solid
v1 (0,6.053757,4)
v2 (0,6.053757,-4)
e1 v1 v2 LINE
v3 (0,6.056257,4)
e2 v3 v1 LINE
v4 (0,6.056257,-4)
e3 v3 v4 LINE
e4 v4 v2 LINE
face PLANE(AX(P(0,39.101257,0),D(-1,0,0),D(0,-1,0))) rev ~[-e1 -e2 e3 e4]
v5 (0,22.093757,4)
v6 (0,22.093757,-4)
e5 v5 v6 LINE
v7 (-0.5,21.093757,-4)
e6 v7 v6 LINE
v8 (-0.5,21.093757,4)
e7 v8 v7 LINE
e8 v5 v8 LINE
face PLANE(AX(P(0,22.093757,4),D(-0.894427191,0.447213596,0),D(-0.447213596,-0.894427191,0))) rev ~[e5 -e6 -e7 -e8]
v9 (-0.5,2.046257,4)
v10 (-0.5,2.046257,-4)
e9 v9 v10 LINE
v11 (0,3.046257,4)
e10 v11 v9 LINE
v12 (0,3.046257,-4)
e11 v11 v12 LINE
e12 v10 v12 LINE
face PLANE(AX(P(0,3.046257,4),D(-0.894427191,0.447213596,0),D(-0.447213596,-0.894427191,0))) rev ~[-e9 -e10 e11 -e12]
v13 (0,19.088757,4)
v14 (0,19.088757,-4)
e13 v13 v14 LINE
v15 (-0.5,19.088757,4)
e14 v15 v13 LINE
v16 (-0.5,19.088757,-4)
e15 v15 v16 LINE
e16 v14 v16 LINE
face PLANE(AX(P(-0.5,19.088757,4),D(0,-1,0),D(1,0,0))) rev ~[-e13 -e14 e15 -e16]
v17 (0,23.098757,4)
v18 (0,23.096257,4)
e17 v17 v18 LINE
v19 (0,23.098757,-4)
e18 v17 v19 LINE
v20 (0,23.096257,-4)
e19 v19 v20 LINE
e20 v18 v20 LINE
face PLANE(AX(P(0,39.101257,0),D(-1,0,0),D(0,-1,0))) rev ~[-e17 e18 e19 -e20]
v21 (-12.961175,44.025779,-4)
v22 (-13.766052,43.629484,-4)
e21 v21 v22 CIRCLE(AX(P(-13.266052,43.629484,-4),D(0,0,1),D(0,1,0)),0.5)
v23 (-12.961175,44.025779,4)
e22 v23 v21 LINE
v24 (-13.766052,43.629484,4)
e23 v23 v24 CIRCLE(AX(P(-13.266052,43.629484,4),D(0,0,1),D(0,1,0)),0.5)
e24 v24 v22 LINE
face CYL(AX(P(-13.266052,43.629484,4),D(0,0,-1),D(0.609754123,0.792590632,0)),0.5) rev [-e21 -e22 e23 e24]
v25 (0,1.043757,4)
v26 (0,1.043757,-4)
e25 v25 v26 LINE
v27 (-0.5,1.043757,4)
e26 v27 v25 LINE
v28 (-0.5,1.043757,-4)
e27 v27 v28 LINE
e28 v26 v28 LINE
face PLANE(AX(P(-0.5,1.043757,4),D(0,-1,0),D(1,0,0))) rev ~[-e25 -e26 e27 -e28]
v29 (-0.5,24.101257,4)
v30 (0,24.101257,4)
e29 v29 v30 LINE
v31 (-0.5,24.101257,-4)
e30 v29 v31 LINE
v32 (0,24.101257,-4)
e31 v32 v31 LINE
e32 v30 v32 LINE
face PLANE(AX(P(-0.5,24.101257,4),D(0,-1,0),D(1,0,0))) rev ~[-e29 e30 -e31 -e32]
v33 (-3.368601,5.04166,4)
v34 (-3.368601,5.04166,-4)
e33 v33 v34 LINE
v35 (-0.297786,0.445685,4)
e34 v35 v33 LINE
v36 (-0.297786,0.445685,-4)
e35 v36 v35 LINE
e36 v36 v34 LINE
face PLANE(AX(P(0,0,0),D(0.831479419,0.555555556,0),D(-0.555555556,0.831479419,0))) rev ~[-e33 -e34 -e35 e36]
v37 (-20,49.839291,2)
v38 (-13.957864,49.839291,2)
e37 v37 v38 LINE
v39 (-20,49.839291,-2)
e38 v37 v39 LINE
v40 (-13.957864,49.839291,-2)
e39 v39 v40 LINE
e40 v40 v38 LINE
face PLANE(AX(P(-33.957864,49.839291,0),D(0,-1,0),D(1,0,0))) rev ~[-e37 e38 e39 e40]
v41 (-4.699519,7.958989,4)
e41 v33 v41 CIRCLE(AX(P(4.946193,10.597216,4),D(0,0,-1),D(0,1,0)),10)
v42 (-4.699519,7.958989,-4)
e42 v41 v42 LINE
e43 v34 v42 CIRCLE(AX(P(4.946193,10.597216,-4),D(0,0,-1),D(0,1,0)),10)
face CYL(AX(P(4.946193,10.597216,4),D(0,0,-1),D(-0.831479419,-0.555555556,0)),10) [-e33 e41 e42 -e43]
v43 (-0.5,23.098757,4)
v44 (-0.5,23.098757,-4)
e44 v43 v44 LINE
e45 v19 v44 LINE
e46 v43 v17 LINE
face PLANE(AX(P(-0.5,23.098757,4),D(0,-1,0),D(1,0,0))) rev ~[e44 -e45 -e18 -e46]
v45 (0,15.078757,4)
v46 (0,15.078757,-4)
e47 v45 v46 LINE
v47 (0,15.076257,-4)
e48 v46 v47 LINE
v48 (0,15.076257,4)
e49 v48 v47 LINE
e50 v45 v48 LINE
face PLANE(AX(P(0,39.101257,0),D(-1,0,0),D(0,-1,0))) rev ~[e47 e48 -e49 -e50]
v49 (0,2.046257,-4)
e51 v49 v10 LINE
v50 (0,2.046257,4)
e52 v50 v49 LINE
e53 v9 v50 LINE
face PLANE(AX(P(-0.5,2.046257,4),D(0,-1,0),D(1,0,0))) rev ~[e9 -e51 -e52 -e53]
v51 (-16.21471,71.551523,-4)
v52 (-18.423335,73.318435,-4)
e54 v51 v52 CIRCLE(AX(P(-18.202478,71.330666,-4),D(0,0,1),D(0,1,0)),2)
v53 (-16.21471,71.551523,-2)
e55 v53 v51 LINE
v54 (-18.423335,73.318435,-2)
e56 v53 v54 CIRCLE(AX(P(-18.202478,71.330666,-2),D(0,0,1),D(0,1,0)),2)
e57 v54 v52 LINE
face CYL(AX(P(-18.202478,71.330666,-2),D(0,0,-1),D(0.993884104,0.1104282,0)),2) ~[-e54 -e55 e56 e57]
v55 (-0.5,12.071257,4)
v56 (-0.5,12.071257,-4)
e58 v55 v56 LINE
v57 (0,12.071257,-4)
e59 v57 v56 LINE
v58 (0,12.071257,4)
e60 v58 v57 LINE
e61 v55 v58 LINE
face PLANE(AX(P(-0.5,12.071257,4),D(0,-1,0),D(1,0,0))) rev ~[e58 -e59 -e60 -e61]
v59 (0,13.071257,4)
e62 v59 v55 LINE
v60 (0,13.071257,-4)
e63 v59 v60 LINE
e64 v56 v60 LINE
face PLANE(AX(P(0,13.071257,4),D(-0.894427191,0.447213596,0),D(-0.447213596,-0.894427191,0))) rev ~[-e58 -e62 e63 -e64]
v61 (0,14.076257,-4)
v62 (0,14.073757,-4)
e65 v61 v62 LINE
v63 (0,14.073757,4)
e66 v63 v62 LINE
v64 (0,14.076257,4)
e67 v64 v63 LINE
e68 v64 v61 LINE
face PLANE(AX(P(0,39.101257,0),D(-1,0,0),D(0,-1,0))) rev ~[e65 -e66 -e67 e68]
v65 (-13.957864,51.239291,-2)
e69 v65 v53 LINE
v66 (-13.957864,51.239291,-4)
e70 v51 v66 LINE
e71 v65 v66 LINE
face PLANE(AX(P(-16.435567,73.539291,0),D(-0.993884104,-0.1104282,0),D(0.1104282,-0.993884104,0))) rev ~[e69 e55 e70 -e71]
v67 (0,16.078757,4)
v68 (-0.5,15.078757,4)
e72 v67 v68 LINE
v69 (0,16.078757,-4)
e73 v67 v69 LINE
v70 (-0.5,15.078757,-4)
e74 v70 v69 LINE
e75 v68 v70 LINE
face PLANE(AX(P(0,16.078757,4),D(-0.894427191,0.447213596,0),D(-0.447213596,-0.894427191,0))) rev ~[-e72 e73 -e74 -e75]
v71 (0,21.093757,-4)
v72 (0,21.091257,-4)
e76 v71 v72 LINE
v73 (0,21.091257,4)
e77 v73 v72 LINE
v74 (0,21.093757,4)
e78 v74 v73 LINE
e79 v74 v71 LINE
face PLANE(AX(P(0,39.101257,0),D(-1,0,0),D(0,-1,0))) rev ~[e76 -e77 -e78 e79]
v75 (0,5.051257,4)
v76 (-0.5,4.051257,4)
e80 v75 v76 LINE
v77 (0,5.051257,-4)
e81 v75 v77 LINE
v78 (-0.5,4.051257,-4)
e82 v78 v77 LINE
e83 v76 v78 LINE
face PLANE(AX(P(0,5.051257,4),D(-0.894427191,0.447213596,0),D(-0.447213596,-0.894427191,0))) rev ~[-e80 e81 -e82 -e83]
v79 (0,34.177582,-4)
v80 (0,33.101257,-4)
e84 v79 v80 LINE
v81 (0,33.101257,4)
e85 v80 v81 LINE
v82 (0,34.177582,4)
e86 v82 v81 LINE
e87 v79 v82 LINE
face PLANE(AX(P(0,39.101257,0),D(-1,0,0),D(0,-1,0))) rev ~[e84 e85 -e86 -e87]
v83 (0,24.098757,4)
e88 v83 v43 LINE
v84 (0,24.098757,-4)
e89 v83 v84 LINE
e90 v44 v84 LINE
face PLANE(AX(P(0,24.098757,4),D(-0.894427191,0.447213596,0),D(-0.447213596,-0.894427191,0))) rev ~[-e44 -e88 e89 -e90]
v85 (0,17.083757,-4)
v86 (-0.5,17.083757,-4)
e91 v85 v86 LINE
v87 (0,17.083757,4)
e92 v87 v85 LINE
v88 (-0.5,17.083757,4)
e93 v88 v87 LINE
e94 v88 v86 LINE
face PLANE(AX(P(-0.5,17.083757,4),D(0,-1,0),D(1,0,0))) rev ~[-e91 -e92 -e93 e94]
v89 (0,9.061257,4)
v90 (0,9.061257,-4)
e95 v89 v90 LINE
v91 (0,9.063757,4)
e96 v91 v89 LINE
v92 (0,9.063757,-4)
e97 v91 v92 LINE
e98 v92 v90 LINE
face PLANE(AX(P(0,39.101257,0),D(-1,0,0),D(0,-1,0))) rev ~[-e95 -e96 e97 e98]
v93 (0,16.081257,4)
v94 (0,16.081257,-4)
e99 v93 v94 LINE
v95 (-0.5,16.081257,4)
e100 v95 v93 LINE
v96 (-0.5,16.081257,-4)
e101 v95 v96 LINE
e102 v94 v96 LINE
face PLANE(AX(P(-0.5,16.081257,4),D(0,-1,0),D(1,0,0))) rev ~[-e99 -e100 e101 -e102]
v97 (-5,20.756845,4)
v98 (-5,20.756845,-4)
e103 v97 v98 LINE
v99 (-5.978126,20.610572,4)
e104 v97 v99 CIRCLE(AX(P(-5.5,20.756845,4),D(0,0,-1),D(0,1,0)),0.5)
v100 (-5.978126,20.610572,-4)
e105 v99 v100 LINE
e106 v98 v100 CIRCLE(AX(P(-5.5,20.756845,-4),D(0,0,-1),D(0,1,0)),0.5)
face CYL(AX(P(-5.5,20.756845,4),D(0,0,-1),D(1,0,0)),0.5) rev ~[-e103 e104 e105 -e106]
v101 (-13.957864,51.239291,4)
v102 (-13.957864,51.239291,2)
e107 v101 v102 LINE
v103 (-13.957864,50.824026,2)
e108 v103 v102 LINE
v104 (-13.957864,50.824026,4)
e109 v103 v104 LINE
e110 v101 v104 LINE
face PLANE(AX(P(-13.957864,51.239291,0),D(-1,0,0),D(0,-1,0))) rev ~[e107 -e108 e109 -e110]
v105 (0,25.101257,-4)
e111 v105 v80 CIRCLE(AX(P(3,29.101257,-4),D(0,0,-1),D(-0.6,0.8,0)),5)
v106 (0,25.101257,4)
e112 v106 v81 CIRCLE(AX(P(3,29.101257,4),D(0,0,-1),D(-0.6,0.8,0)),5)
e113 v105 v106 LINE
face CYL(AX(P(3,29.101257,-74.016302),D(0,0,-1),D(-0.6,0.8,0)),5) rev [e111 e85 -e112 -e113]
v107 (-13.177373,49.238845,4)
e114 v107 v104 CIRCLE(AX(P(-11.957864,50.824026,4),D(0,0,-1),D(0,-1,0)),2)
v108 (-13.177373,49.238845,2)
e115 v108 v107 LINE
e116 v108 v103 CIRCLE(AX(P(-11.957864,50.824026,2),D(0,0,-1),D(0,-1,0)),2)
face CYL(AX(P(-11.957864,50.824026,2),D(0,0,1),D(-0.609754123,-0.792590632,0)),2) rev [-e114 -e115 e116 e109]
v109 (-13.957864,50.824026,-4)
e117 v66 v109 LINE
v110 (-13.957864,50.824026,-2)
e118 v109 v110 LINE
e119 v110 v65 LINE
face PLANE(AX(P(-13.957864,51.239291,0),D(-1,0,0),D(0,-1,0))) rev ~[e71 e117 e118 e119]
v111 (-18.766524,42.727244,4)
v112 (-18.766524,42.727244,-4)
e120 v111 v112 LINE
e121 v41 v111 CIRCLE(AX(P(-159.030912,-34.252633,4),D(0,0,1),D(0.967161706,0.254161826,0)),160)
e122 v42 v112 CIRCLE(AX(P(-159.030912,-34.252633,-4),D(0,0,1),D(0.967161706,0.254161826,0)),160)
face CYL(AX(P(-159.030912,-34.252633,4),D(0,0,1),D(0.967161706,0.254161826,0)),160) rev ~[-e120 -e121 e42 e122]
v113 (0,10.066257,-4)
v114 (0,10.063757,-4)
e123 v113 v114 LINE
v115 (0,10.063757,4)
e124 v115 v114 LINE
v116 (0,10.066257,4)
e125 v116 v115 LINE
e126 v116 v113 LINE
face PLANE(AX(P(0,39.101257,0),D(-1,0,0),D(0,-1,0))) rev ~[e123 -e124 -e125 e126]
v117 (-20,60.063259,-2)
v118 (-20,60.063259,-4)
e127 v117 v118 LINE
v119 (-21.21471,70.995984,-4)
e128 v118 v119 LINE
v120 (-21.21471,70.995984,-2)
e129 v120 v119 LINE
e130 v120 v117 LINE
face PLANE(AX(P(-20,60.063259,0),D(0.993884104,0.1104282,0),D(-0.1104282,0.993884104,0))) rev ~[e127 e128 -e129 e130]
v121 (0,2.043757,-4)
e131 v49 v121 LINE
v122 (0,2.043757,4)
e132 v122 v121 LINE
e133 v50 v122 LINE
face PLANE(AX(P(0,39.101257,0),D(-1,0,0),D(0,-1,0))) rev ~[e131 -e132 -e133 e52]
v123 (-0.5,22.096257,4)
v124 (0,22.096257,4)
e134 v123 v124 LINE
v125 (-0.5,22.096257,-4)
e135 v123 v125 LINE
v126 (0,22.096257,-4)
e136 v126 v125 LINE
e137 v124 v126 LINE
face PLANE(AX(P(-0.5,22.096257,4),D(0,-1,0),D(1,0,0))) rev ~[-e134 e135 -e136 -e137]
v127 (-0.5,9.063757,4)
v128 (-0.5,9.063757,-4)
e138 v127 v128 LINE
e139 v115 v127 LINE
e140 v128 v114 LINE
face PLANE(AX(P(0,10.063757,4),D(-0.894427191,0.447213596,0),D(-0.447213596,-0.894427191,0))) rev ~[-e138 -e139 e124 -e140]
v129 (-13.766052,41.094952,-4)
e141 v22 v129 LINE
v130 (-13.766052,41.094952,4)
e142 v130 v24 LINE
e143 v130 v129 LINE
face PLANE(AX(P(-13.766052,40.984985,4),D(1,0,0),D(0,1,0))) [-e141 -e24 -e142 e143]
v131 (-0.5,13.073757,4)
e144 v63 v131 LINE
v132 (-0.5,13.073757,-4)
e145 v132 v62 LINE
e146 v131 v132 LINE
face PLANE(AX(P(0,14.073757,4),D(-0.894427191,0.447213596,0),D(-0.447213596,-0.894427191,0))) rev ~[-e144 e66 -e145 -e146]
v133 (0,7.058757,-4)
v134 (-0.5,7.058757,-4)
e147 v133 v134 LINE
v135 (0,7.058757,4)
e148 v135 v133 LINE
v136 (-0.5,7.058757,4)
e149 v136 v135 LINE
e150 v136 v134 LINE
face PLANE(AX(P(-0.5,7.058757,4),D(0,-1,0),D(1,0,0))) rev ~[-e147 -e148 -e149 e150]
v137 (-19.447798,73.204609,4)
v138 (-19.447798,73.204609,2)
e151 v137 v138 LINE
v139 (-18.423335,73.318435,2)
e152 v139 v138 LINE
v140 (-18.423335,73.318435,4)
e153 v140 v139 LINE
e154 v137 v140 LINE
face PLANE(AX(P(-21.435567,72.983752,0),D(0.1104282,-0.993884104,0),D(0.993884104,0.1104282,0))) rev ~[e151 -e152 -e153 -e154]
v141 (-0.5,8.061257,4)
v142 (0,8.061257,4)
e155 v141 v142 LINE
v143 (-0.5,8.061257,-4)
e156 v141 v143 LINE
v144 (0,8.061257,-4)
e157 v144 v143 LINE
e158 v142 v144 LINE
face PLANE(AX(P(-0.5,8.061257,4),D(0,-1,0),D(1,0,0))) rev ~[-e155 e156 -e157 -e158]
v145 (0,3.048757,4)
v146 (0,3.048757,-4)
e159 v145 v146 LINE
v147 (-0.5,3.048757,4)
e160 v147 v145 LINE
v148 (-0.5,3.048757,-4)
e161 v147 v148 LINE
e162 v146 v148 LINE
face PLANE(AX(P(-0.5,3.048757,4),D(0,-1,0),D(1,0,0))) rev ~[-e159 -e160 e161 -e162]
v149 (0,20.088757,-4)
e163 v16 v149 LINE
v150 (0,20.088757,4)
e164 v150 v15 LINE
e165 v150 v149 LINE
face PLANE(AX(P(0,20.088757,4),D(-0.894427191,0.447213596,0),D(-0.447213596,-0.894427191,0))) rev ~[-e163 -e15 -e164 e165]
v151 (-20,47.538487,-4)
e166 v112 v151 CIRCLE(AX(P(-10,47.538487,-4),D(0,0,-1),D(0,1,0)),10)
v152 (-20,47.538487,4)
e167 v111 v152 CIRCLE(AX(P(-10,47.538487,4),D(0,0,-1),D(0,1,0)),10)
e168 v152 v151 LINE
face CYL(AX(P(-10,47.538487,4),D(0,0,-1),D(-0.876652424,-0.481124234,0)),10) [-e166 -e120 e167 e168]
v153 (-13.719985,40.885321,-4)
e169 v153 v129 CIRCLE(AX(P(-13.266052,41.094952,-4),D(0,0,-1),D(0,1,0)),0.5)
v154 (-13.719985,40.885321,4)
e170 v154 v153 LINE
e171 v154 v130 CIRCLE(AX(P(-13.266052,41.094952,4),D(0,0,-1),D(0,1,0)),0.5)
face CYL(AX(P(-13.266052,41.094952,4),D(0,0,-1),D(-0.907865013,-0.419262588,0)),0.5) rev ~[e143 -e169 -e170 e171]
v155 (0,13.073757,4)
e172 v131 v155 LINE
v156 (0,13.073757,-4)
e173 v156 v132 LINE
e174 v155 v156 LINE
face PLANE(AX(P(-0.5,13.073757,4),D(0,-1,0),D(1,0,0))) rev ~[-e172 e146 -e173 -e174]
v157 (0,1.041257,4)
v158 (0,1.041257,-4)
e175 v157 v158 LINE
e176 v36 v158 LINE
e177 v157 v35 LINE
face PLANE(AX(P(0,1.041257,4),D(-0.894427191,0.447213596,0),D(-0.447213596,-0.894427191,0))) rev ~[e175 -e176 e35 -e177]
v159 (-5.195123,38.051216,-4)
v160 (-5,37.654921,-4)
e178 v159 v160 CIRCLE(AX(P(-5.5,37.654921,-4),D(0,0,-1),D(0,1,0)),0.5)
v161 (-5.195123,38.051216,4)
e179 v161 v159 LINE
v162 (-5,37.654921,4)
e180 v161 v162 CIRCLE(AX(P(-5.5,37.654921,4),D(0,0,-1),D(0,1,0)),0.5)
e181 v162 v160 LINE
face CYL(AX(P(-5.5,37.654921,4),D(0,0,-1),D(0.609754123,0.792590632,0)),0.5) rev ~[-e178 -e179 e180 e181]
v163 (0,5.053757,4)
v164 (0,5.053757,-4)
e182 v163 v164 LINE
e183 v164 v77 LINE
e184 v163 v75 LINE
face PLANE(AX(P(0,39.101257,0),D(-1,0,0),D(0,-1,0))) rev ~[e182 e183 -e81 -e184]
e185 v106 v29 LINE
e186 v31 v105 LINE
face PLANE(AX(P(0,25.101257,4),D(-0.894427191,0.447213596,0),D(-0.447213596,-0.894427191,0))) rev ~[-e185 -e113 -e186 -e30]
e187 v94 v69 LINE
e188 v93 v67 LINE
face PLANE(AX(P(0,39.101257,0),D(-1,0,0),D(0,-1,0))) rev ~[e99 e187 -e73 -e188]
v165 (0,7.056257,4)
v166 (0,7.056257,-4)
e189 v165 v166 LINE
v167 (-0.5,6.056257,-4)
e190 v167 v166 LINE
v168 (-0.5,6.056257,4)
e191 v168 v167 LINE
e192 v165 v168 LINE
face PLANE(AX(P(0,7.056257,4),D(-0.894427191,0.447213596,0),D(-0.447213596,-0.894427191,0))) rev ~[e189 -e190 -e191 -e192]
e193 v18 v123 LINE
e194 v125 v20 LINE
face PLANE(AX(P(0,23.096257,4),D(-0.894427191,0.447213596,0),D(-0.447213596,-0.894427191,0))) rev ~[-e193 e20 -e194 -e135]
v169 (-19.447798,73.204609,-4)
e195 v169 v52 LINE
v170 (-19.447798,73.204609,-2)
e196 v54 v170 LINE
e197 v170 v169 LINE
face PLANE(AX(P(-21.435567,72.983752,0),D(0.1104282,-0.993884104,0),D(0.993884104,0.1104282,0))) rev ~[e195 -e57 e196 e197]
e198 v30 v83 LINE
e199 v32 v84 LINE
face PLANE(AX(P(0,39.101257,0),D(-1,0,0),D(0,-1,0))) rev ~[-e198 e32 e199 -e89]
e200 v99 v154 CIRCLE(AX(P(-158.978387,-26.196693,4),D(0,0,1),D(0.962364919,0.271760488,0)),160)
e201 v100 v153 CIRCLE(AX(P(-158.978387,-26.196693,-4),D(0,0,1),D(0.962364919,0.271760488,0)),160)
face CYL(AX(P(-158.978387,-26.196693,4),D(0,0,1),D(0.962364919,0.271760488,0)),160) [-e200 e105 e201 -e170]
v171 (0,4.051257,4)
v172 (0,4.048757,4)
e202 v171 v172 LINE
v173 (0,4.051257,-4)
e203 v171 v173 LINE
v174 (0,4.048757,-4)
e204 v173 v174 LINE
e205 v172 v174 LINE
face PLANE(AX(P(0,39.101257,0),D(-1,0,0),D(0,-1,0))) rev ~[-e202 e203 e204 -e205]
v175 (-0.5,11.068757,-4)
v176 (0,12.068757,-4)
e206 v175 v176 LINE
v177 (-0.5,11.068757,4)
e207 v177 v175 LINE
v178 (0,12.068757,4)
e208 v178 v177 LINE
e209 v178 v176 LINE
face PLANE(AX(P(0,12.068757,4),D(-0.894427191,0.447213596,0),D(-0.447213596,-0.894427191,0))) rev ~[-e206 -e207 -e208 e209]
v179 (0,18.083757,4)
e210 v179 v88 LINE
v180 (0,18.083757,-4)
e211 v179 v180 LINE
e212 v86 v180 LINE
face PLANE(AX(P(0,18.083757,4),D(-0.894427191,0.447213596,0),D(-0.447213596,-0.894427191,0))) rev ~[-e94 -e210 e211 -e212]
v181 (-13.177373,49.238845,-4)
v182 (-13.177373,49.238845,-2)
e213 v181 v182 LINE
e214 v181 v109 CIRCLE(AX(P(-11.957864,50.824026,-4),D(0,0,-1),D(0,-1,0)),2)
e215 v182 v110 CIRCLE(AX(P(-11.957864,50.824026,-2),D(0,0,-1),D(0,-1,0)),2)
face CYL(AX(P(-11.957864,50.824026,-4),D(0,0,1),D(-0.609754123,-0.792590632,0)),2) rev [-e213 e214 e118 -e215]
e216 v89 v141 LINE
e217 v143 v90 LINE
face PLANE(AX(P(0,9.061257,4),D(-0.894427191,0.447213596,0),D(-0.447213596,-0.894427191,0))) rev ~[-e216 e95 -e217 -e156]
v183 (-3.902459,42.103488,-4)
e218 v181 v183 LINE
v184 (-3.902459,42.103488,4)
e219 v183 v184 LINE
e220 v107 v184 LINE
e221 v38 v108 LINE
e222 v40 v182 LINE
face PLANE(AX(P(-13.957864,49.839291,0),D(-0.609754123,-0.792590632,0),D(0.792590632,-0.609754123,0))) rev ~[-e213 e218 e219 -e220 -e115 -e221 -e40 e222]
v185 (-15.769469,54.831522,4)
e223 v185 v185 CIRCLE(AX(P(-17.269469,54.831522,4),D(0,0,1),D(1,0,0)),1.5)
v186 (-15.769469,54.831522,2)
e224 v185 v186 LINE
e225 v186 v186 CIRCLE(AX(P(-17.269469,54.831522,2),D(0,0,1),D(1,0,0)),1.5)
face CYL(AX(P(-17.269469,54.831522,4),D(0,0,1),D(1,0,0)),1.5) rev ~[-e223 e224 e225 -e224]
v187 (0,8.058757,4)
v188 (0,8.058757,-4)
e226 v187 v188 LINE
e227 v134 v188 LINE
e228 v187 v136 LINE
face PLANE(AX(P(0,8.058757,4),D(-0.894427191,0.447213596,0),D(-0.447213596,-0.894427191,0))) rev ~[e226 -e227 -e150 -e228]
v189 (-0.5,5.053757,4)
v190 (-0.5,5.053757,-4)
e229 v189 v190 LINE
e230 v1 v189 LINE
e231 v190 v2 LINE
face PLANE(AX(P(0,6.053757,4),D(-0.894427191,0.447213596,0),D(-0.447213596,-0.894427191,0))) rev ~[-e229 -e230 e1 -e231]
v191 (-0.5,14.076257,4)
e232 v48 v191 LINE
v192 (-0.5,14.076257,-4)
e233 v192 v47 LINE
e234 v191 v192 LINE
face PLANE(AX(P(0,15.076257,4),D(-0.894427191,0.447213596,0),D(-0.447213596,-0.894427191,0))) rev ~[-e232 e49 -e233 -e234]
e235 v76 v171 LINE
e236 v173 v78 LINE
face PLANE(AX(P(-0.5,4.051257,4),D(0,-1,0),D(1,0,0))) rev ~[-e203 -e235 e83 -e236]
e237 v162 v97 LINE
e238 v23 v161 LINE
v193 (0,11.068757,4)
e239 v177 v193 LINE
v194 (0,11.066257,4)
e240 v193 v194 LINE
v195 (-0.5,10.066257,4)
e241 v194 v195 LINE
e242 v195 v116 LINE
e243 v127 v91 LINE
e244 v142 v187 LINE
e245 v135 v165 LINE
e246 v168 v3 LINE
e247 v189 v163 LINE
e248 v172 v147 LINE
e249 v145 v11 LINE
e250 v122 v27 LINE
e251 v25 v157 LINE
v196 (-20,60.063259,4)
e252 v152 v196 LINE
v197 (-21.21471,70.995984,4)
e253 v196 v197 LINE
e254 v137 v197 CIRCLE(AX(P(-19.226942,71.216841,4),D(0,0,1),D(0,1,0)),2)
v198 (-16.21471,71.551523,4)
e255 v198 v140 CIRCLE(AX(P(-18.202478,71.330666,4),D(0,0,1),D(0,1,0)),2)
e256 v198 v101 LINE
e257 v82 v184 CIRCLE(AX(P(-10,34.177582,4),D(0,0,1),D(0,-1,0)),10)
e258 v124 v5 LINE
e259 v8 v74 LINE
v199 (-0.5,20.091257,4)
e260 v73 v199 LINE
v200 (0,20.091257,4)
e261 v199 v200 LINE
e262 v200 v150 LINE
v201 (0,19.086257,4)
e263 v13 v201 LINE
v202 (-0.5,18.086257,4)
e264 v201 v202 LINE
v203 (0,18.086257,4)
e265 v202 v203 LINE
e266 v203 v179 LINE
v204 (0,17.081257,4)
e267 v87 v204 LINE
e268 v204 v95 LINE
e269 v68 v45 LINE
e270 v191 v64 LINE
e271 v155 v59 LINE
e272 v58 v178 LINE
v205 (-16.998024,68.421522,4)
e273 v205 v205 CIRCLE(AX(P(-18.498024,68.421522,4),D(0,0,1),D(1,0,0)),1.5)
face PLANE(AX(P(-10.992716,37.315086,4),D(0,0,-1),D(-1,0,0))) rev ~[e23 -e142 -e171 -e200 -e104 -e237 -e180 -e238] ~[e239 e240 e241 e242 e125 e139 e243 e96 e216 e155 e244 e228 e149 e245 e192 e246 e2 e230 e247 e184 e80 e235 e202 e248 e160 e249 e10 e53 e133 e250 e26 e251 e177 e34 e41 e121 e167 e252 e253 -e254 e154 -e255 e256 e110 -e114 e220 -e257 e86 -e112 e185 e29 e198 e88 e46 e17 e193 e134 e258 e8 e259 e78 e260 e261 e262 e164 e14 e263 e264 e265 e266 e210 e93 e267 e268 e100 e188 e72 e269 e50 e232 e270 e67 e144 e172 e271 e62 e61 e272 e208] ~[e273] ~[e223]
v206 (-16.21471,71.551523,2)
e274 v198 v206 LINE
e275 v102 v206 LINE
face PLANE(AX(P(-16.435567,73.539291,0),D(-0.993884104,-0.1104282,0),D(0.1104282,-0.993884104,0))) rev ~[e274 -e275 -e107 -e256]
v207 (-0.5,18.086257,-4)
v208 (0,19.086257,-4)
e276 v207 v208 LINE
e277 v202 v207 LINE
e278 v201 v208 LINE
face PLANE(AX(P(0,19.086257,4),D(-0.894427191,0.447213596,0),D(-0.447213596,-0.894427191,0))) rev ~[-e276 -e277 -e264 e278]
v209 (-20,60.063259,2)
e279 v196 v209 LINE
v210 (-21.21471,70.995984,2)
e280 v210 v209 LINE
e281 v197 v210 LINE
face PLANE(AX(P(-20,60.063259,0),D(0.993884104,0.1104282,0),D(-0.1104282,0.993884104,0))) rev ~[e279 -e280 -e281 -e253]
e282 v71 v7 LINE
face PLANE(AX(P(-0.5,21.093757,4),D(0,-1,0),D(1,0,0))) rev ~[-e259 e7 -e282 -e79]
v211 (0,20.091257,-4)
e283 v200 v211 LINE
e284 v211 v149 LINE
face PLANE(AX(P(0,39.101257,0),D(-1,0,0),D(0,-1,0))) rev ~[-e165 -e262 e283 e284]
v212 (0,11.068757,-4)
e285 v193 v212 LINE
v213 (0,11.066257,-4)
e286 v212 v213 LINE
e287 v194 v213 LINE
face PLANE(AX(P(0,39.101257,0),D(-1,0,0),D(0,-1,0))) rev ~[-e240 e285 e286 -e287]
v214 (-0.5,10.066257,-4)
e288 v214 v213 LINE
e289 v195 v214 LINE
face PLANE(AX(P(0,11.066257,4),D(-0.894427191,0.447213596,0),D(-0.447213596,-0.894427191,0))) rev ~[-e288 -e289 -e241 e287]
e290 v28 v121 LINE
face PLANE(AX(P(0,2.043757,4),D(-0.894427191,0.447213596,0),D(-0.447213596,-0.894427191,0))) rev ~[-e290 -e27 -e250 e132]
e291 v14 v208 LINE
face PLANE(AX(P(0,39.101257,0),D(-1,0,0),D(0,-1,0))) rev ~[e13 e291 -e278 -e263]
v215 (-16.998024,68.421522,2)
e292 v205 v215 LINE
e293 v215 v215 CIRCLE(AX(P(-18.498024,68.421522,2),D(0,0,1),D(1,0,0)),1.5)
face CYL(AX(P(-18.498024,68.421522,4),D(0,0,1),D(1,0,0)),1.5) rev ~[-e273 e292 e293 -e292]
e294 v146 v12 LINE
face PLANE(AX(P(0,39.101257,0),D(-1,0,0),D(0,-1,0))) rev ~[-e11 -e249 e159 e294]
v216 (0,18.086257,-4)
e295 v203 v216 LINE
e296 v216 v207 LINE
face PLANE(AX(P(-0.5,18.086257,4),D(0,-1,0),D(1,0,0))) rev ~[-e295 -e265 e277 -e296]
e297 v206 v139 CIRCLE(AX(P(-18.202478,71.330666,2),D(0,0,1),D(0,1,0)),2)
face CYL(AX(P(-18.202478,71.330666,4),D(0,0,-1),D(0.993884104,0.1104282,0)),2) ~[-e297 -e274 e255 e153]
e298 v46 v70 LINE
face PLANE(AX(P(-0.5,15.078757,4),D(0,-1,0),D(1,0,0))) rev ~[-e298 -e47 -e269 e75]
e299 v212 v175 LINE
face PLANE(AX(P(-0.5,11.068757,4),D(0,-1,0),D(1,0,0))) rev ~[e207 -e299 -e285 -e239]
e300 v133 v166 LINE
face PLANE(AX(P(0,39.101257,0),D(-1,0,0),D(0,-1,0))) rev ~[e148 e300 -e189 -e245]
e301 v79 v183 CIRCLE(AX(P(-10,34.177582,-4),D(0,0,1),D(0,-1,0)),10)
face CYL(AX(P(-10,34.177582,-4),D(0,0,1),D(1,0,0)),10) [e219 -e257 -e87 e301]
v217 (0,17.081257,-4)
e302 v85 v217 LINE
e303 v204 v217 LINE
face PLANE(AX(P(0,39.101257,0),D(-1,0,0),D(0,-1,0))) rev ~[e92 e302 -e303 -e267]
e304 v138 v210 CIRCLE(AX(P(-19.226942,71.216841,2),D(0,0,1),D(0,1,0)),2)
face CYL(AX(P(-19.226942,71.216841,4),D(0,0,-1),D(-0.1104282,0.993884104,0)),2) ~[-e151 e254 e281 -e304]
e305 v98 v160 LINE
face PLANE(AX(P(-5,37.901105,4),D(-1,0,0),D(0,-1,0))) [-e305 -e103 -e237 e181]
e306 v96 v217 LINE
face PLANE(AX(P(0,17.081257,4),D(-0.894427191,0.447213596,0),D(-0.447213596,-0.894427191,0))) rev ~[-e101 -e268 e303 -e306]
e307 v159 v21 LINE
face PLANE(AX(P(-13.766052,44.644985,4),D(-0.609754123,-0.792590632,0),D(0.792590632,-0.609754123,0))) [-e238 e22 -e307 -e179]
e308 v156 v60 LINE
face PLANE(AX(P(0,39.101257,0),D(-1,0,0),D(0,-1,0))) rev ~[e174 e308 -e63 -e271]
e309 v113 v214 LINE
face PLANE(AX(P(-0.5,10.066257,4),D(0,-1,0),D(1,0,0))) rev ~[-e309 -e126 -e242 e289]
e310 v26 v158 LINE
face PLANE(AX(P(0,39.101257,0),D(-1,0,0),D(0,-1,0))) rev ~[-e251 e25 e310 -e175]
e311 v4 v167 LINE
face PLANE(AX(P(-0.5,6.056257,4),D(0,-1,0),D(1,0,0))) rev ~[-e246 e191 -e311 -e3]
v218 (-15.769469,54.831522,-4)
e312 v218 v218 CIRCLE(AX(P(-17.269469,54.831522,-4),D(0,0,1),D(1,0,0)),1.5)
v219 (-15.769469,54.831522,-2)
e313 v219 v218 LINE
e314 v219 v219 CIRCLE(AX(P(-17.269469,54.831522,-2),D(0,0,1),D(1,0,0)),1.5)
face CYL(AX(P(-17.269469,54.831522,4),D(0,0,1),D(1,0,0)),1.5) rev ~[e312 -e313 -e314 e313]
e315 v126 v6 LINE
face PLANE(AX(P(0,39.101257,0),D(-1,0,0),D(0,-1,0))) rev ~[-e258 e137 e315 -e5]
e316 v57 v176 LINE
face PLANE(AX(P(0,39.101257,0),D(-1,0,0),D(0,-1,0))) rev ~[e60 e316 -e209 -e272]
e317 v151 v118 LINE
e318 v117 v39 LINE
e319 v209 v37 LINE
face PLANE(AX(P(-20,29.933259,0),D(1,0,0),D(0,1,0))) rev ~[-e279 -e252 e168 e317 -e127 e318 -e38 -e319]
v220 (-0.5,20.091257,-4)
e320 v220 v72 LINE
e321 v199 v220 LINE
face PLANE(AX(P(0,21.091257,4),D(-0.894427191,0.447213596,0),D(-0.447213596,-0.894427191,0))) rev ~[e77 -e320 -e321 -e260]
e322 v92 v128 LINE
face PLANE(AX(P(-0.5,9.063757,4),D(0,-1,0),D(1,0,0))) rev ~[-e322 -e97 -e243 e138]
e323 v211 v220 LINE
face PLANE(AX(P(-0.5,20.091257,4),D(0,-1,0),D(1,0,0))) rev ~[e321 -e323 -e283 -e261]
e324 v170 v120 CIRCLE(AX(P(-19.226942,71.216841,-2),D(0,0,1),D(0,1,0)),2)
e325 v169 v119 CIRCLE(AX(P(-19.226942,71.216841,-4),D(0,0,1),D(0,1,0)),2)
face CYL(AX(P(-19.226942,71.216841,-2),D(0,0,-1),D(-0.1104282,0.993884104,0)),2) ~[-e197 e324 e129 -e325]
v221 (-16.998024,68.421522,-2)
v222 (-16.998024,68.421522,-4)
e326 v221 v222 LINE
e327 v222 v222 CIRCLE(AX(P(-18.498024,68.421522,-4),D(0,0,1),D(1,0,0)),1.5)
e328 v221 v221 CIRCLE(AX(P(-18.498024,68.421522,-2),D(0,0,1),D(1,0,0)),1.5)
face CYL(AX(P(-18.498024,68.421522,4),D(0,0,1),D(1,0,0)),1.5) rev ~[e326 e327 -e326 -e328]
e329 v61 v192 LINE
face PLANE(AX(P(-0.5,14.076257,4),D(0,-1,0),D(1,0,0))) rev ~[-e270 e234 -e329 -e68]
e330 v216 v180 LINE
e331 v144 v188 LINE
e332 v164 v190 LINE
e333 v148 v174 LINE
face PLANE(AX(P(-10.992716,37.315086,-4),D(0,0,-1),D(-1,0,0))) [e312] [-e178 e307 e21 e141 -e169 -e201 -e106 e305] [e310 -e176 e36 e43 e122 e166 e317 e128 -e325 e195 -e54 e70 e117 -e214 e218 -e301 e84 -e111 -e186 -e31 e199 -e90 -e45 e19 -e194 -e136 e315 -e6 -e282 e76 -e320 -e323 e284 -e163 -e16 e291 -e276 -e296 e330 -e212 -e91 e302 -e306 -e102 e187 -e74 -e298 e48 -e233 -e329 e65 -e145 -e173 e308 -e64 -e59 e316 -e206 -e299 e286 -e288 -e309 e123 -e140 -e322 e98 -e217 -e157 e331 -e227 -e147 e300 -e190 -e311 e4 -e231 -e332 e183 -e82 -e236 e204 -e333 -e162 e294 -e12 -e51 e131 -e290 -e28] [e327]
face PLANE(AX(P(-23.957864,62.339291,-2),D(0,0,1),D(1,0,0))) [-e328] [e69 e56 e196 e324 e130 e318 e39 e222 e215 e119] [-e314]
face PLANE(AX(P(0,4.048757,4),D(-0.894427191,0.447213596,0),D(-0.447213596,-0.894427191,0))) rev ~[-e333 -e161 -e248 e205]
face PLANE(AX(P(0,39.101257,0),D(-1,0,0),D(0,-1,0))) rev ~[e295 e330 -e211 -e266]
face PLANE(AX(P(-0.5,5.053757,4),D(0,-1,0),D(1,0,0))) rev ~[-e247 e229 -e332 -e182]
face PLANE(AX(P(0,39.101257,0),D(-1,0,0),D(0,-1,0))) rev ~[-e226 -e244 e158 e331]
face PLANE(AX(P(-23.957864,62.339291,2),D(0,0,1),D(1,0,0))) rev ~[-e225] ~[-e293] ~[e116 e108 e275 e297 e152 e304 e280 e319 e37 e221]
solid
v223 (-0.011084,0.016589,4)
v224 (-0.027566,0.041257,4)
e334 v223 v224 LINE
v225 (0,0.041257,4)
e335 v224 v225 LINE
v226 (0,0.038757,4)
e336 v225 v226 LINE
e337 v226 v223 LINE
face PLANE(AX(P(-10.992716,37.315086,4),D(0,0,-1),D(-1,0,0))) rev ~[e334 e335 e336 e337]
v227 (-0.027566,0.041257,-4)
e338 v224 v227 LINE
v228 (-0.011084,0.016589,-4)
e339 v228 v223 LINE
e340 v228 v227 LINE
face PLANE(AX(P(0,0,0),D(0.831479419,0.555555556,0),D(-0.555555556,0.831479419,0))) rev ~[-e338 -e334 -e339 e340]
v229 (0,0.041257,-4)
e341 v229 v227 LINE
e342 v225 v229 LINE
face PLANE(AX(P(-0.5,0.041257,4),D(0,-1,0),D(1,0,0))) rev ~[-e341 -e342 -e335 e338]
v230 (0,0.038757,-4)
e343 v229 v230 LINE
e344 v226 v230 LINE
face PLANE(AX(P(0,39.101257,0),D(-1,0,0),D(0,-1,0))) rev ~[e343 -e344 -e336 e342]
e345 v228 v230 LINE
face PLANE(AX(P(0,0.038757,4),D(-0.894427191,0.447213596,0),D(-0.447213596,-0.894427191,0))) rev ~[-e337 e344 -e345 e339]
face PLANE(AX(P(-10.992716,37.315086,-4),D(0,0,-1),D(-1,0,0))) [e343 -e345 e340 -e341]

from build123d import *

# Parameters (mm, degrees)
BOSS_EXTRUDE1_DEPTH     = 4
SKETCH2_W               = 20
SKETCH2_H               = 25
CUT_EXTRUDE1_DEPTH      = 2
CUT_EXTRUDE2_DEPTH      = 78.016302468
CUT_EXTRUDE2_DEPTH_BACK = 78.016302468
CUT_EXTRUDE3_DEPTH      = 78.016302468
LPATTERN1_COUNT         = 26
LPATTERN1_PITCH         = 1.0025
CUT_EXTRUDE4_DEPTH      = 78.016302468
CUT_EXTRUDE5_DEPTH      = 78.016302468
FILLET1_R               = 10
FILLET2_R               = 2
FILLET3_R               = 0.5
SKETCH8_R               = 1.5
CUT_EXTRUDE6_DEPTH      = 77.75916694


with BuildPart() as part:
    # Sketch1 → Boss-Extrude1 (new, symmetric)
    with BuildSketch(Plane.XY):
        Polygon((0, 0), (-20, 29.933259094), (-20, 60.063259094), (-21.435566599, 72.983752449), (-16.435566599, 73.539291065), (-13.957864372, 51.239291065), (-13.957864372, 49.839291065), (0, 39.101256812), align=None)
    extrude(amount=BOSS_EXTRUDE1_DEPTH, both=True)

    # Sketch2 → Cut-Extrude1 (cut, symmetric)
    with BuildSketch(Plane.XY):
        with Locations((-23.957864372, 62.339291065)):
            Rectangle(SKETCH2_W, SKETCH2_H)
    extrude(amount=CUT_EXTRUDE1_DEPTH, both=True, mode=Mode.SUBTRACT)

    # Sketch3 → Cut-Extrude2 (cut, two sides: drawn at the far end of the back side and taken through both)
    with BuildSketch(Plane.XY.offset(4).offset(-CUT_EXTRUDE2_DEPTH_BACK)):
        with BuildLine():
            Line((92.75057696, 102.664189532), (0, 33.101256812))
            ThreePointArc((0, 33.101256812), (-2, 29.101256812), (0, 25.101256812))
            Line((0, 25.101256812), (92.75057696, -44.461675908))
            Line((92.75057696, -44.461675908), (324.62701936, -44.461675908))
            Line((324.62701936, -44.461675908), (324.62701936, 102.664189532))
            Line((324.62701936, 102.664189532), (92.75057696, 102.664189532))
        make_face()
    extrude(amount=CUT_EXTRUDE2_DEPTH + CUT_EXTRUDE2_DEPTH_BACK, mode=Mode.SUBTRACT)

    # Sketch5 → Cut-Extrude3 (cut, through all)
    with BuildSketch(Plane.XY.offset(4)):
        Polygon((0, 25.101256812), (-0.5, 24.101256812), (0, 24.101256812), align=None)
    cut_extrude3 = extrude(amount=-CUT_EXTRUDE3_DEPTH, mode=Mode.SUBTRACT)

    # LPattern1: Cut-Extrude3 ×26
    with Locations(*[(0, -i * LPATTERN1_PITCH, 0) for i in range(1, LPATTERN1_COUNT)]):
        add(cut_extrude3, mode=Mode.SUBTRACT)

    # Sketch6 → Cut-Extrude4 (cut, through all)
    with BuildSketch(Plane.XY.offset(4)):
        with BuildLine():
            Line((-20, 44.933259094), (-20, 29.933259094))
            Line((-20, 29.933259094), (-4.285038976, 6.413259094))
            ThreePointArc((-4.285038976, 6.413259094), (-10.885215286, 26.186200074), (-20, 44.933259094))
        make_face()
    extrude(amount=-CUT_EXTRUDE4_DEPTH, mode=Mode.SUBTRACT)

    # Sketch7 → Cut-Extrude5 (cut, through all)
    with BuildSketch(Plane.XY.offset(4)):
        with BuildLine():
            Line((-13.766052386, 44.644985221), (-5, 37.901104619))
            Line((-5, 37.901104619), (-5, 17.284985221))
            ThreePointArc((-5, 17.284985221), (-8.914419056, 29.30831158), (-13.766052386, 40.984985221))
            Line((-13.766052386, 40.984985221), (-13.766052386, 44.644985221))
        make_face()
    extrude(amount=-CUT_EXTRUDE5_DEPTH, mode=Mode.SUBTRACT)

    # Fillet1
    fillet1_edges = [part.edges().sort_by_distance(p)[0] for p in [
        (-20, 44.933259094, 0),
        (-4.285038976, 6.413259094, 0),
        (0, 39.101256812, 0),
    ]]
    fillet(fillet1_edges, radius=FILLET1_R)

    # Fillet2
    fillet2_edges = [part.edges().sort_by_distance(p)[0] for p in [
        (-13.957864372, 49.839291065, -3),
        (-16.435566599, 73.539291065, -3),
        (-21.435566599, 72.983752449, -3),
        (-13.957864372, 49.839291065, 3),
        (-16.435566599, 73.539291065, 3),
        (-21.435566599, 72.983752449, 3),
    ]]
    fillet(fillet2_edges, radius=FILLET2_R)

    # Fillet3
    fillet3_edges = [part.edges().sort_by_distance(p)[0] for p in [
        (-13.766052386, 40.984985221, 0),
        (-13.766052386, 44.644985221, 0),
        (-5, 37.901104619, 0),
        (-5, 17.284985221, 0),
    ]]
    fillet(fillet3_edges, radius=FILLET3_R)

    # Sketch8 → Cut-Extrude6 (cut, through all)
    with BuildSketch(Plane.XY.offset(4)):
        with Locations((-18.498023971, 68.421521757)):
            Circle(SKETCH8_R)
        with Locations((-17.26946936, 54.831521757)):
            Circle(SKETCH8_R)
    extrude(amount=-CUT_EXTRUDE6_DEPTH, mode=Mode.SUBTRACT)


solid = part.part
